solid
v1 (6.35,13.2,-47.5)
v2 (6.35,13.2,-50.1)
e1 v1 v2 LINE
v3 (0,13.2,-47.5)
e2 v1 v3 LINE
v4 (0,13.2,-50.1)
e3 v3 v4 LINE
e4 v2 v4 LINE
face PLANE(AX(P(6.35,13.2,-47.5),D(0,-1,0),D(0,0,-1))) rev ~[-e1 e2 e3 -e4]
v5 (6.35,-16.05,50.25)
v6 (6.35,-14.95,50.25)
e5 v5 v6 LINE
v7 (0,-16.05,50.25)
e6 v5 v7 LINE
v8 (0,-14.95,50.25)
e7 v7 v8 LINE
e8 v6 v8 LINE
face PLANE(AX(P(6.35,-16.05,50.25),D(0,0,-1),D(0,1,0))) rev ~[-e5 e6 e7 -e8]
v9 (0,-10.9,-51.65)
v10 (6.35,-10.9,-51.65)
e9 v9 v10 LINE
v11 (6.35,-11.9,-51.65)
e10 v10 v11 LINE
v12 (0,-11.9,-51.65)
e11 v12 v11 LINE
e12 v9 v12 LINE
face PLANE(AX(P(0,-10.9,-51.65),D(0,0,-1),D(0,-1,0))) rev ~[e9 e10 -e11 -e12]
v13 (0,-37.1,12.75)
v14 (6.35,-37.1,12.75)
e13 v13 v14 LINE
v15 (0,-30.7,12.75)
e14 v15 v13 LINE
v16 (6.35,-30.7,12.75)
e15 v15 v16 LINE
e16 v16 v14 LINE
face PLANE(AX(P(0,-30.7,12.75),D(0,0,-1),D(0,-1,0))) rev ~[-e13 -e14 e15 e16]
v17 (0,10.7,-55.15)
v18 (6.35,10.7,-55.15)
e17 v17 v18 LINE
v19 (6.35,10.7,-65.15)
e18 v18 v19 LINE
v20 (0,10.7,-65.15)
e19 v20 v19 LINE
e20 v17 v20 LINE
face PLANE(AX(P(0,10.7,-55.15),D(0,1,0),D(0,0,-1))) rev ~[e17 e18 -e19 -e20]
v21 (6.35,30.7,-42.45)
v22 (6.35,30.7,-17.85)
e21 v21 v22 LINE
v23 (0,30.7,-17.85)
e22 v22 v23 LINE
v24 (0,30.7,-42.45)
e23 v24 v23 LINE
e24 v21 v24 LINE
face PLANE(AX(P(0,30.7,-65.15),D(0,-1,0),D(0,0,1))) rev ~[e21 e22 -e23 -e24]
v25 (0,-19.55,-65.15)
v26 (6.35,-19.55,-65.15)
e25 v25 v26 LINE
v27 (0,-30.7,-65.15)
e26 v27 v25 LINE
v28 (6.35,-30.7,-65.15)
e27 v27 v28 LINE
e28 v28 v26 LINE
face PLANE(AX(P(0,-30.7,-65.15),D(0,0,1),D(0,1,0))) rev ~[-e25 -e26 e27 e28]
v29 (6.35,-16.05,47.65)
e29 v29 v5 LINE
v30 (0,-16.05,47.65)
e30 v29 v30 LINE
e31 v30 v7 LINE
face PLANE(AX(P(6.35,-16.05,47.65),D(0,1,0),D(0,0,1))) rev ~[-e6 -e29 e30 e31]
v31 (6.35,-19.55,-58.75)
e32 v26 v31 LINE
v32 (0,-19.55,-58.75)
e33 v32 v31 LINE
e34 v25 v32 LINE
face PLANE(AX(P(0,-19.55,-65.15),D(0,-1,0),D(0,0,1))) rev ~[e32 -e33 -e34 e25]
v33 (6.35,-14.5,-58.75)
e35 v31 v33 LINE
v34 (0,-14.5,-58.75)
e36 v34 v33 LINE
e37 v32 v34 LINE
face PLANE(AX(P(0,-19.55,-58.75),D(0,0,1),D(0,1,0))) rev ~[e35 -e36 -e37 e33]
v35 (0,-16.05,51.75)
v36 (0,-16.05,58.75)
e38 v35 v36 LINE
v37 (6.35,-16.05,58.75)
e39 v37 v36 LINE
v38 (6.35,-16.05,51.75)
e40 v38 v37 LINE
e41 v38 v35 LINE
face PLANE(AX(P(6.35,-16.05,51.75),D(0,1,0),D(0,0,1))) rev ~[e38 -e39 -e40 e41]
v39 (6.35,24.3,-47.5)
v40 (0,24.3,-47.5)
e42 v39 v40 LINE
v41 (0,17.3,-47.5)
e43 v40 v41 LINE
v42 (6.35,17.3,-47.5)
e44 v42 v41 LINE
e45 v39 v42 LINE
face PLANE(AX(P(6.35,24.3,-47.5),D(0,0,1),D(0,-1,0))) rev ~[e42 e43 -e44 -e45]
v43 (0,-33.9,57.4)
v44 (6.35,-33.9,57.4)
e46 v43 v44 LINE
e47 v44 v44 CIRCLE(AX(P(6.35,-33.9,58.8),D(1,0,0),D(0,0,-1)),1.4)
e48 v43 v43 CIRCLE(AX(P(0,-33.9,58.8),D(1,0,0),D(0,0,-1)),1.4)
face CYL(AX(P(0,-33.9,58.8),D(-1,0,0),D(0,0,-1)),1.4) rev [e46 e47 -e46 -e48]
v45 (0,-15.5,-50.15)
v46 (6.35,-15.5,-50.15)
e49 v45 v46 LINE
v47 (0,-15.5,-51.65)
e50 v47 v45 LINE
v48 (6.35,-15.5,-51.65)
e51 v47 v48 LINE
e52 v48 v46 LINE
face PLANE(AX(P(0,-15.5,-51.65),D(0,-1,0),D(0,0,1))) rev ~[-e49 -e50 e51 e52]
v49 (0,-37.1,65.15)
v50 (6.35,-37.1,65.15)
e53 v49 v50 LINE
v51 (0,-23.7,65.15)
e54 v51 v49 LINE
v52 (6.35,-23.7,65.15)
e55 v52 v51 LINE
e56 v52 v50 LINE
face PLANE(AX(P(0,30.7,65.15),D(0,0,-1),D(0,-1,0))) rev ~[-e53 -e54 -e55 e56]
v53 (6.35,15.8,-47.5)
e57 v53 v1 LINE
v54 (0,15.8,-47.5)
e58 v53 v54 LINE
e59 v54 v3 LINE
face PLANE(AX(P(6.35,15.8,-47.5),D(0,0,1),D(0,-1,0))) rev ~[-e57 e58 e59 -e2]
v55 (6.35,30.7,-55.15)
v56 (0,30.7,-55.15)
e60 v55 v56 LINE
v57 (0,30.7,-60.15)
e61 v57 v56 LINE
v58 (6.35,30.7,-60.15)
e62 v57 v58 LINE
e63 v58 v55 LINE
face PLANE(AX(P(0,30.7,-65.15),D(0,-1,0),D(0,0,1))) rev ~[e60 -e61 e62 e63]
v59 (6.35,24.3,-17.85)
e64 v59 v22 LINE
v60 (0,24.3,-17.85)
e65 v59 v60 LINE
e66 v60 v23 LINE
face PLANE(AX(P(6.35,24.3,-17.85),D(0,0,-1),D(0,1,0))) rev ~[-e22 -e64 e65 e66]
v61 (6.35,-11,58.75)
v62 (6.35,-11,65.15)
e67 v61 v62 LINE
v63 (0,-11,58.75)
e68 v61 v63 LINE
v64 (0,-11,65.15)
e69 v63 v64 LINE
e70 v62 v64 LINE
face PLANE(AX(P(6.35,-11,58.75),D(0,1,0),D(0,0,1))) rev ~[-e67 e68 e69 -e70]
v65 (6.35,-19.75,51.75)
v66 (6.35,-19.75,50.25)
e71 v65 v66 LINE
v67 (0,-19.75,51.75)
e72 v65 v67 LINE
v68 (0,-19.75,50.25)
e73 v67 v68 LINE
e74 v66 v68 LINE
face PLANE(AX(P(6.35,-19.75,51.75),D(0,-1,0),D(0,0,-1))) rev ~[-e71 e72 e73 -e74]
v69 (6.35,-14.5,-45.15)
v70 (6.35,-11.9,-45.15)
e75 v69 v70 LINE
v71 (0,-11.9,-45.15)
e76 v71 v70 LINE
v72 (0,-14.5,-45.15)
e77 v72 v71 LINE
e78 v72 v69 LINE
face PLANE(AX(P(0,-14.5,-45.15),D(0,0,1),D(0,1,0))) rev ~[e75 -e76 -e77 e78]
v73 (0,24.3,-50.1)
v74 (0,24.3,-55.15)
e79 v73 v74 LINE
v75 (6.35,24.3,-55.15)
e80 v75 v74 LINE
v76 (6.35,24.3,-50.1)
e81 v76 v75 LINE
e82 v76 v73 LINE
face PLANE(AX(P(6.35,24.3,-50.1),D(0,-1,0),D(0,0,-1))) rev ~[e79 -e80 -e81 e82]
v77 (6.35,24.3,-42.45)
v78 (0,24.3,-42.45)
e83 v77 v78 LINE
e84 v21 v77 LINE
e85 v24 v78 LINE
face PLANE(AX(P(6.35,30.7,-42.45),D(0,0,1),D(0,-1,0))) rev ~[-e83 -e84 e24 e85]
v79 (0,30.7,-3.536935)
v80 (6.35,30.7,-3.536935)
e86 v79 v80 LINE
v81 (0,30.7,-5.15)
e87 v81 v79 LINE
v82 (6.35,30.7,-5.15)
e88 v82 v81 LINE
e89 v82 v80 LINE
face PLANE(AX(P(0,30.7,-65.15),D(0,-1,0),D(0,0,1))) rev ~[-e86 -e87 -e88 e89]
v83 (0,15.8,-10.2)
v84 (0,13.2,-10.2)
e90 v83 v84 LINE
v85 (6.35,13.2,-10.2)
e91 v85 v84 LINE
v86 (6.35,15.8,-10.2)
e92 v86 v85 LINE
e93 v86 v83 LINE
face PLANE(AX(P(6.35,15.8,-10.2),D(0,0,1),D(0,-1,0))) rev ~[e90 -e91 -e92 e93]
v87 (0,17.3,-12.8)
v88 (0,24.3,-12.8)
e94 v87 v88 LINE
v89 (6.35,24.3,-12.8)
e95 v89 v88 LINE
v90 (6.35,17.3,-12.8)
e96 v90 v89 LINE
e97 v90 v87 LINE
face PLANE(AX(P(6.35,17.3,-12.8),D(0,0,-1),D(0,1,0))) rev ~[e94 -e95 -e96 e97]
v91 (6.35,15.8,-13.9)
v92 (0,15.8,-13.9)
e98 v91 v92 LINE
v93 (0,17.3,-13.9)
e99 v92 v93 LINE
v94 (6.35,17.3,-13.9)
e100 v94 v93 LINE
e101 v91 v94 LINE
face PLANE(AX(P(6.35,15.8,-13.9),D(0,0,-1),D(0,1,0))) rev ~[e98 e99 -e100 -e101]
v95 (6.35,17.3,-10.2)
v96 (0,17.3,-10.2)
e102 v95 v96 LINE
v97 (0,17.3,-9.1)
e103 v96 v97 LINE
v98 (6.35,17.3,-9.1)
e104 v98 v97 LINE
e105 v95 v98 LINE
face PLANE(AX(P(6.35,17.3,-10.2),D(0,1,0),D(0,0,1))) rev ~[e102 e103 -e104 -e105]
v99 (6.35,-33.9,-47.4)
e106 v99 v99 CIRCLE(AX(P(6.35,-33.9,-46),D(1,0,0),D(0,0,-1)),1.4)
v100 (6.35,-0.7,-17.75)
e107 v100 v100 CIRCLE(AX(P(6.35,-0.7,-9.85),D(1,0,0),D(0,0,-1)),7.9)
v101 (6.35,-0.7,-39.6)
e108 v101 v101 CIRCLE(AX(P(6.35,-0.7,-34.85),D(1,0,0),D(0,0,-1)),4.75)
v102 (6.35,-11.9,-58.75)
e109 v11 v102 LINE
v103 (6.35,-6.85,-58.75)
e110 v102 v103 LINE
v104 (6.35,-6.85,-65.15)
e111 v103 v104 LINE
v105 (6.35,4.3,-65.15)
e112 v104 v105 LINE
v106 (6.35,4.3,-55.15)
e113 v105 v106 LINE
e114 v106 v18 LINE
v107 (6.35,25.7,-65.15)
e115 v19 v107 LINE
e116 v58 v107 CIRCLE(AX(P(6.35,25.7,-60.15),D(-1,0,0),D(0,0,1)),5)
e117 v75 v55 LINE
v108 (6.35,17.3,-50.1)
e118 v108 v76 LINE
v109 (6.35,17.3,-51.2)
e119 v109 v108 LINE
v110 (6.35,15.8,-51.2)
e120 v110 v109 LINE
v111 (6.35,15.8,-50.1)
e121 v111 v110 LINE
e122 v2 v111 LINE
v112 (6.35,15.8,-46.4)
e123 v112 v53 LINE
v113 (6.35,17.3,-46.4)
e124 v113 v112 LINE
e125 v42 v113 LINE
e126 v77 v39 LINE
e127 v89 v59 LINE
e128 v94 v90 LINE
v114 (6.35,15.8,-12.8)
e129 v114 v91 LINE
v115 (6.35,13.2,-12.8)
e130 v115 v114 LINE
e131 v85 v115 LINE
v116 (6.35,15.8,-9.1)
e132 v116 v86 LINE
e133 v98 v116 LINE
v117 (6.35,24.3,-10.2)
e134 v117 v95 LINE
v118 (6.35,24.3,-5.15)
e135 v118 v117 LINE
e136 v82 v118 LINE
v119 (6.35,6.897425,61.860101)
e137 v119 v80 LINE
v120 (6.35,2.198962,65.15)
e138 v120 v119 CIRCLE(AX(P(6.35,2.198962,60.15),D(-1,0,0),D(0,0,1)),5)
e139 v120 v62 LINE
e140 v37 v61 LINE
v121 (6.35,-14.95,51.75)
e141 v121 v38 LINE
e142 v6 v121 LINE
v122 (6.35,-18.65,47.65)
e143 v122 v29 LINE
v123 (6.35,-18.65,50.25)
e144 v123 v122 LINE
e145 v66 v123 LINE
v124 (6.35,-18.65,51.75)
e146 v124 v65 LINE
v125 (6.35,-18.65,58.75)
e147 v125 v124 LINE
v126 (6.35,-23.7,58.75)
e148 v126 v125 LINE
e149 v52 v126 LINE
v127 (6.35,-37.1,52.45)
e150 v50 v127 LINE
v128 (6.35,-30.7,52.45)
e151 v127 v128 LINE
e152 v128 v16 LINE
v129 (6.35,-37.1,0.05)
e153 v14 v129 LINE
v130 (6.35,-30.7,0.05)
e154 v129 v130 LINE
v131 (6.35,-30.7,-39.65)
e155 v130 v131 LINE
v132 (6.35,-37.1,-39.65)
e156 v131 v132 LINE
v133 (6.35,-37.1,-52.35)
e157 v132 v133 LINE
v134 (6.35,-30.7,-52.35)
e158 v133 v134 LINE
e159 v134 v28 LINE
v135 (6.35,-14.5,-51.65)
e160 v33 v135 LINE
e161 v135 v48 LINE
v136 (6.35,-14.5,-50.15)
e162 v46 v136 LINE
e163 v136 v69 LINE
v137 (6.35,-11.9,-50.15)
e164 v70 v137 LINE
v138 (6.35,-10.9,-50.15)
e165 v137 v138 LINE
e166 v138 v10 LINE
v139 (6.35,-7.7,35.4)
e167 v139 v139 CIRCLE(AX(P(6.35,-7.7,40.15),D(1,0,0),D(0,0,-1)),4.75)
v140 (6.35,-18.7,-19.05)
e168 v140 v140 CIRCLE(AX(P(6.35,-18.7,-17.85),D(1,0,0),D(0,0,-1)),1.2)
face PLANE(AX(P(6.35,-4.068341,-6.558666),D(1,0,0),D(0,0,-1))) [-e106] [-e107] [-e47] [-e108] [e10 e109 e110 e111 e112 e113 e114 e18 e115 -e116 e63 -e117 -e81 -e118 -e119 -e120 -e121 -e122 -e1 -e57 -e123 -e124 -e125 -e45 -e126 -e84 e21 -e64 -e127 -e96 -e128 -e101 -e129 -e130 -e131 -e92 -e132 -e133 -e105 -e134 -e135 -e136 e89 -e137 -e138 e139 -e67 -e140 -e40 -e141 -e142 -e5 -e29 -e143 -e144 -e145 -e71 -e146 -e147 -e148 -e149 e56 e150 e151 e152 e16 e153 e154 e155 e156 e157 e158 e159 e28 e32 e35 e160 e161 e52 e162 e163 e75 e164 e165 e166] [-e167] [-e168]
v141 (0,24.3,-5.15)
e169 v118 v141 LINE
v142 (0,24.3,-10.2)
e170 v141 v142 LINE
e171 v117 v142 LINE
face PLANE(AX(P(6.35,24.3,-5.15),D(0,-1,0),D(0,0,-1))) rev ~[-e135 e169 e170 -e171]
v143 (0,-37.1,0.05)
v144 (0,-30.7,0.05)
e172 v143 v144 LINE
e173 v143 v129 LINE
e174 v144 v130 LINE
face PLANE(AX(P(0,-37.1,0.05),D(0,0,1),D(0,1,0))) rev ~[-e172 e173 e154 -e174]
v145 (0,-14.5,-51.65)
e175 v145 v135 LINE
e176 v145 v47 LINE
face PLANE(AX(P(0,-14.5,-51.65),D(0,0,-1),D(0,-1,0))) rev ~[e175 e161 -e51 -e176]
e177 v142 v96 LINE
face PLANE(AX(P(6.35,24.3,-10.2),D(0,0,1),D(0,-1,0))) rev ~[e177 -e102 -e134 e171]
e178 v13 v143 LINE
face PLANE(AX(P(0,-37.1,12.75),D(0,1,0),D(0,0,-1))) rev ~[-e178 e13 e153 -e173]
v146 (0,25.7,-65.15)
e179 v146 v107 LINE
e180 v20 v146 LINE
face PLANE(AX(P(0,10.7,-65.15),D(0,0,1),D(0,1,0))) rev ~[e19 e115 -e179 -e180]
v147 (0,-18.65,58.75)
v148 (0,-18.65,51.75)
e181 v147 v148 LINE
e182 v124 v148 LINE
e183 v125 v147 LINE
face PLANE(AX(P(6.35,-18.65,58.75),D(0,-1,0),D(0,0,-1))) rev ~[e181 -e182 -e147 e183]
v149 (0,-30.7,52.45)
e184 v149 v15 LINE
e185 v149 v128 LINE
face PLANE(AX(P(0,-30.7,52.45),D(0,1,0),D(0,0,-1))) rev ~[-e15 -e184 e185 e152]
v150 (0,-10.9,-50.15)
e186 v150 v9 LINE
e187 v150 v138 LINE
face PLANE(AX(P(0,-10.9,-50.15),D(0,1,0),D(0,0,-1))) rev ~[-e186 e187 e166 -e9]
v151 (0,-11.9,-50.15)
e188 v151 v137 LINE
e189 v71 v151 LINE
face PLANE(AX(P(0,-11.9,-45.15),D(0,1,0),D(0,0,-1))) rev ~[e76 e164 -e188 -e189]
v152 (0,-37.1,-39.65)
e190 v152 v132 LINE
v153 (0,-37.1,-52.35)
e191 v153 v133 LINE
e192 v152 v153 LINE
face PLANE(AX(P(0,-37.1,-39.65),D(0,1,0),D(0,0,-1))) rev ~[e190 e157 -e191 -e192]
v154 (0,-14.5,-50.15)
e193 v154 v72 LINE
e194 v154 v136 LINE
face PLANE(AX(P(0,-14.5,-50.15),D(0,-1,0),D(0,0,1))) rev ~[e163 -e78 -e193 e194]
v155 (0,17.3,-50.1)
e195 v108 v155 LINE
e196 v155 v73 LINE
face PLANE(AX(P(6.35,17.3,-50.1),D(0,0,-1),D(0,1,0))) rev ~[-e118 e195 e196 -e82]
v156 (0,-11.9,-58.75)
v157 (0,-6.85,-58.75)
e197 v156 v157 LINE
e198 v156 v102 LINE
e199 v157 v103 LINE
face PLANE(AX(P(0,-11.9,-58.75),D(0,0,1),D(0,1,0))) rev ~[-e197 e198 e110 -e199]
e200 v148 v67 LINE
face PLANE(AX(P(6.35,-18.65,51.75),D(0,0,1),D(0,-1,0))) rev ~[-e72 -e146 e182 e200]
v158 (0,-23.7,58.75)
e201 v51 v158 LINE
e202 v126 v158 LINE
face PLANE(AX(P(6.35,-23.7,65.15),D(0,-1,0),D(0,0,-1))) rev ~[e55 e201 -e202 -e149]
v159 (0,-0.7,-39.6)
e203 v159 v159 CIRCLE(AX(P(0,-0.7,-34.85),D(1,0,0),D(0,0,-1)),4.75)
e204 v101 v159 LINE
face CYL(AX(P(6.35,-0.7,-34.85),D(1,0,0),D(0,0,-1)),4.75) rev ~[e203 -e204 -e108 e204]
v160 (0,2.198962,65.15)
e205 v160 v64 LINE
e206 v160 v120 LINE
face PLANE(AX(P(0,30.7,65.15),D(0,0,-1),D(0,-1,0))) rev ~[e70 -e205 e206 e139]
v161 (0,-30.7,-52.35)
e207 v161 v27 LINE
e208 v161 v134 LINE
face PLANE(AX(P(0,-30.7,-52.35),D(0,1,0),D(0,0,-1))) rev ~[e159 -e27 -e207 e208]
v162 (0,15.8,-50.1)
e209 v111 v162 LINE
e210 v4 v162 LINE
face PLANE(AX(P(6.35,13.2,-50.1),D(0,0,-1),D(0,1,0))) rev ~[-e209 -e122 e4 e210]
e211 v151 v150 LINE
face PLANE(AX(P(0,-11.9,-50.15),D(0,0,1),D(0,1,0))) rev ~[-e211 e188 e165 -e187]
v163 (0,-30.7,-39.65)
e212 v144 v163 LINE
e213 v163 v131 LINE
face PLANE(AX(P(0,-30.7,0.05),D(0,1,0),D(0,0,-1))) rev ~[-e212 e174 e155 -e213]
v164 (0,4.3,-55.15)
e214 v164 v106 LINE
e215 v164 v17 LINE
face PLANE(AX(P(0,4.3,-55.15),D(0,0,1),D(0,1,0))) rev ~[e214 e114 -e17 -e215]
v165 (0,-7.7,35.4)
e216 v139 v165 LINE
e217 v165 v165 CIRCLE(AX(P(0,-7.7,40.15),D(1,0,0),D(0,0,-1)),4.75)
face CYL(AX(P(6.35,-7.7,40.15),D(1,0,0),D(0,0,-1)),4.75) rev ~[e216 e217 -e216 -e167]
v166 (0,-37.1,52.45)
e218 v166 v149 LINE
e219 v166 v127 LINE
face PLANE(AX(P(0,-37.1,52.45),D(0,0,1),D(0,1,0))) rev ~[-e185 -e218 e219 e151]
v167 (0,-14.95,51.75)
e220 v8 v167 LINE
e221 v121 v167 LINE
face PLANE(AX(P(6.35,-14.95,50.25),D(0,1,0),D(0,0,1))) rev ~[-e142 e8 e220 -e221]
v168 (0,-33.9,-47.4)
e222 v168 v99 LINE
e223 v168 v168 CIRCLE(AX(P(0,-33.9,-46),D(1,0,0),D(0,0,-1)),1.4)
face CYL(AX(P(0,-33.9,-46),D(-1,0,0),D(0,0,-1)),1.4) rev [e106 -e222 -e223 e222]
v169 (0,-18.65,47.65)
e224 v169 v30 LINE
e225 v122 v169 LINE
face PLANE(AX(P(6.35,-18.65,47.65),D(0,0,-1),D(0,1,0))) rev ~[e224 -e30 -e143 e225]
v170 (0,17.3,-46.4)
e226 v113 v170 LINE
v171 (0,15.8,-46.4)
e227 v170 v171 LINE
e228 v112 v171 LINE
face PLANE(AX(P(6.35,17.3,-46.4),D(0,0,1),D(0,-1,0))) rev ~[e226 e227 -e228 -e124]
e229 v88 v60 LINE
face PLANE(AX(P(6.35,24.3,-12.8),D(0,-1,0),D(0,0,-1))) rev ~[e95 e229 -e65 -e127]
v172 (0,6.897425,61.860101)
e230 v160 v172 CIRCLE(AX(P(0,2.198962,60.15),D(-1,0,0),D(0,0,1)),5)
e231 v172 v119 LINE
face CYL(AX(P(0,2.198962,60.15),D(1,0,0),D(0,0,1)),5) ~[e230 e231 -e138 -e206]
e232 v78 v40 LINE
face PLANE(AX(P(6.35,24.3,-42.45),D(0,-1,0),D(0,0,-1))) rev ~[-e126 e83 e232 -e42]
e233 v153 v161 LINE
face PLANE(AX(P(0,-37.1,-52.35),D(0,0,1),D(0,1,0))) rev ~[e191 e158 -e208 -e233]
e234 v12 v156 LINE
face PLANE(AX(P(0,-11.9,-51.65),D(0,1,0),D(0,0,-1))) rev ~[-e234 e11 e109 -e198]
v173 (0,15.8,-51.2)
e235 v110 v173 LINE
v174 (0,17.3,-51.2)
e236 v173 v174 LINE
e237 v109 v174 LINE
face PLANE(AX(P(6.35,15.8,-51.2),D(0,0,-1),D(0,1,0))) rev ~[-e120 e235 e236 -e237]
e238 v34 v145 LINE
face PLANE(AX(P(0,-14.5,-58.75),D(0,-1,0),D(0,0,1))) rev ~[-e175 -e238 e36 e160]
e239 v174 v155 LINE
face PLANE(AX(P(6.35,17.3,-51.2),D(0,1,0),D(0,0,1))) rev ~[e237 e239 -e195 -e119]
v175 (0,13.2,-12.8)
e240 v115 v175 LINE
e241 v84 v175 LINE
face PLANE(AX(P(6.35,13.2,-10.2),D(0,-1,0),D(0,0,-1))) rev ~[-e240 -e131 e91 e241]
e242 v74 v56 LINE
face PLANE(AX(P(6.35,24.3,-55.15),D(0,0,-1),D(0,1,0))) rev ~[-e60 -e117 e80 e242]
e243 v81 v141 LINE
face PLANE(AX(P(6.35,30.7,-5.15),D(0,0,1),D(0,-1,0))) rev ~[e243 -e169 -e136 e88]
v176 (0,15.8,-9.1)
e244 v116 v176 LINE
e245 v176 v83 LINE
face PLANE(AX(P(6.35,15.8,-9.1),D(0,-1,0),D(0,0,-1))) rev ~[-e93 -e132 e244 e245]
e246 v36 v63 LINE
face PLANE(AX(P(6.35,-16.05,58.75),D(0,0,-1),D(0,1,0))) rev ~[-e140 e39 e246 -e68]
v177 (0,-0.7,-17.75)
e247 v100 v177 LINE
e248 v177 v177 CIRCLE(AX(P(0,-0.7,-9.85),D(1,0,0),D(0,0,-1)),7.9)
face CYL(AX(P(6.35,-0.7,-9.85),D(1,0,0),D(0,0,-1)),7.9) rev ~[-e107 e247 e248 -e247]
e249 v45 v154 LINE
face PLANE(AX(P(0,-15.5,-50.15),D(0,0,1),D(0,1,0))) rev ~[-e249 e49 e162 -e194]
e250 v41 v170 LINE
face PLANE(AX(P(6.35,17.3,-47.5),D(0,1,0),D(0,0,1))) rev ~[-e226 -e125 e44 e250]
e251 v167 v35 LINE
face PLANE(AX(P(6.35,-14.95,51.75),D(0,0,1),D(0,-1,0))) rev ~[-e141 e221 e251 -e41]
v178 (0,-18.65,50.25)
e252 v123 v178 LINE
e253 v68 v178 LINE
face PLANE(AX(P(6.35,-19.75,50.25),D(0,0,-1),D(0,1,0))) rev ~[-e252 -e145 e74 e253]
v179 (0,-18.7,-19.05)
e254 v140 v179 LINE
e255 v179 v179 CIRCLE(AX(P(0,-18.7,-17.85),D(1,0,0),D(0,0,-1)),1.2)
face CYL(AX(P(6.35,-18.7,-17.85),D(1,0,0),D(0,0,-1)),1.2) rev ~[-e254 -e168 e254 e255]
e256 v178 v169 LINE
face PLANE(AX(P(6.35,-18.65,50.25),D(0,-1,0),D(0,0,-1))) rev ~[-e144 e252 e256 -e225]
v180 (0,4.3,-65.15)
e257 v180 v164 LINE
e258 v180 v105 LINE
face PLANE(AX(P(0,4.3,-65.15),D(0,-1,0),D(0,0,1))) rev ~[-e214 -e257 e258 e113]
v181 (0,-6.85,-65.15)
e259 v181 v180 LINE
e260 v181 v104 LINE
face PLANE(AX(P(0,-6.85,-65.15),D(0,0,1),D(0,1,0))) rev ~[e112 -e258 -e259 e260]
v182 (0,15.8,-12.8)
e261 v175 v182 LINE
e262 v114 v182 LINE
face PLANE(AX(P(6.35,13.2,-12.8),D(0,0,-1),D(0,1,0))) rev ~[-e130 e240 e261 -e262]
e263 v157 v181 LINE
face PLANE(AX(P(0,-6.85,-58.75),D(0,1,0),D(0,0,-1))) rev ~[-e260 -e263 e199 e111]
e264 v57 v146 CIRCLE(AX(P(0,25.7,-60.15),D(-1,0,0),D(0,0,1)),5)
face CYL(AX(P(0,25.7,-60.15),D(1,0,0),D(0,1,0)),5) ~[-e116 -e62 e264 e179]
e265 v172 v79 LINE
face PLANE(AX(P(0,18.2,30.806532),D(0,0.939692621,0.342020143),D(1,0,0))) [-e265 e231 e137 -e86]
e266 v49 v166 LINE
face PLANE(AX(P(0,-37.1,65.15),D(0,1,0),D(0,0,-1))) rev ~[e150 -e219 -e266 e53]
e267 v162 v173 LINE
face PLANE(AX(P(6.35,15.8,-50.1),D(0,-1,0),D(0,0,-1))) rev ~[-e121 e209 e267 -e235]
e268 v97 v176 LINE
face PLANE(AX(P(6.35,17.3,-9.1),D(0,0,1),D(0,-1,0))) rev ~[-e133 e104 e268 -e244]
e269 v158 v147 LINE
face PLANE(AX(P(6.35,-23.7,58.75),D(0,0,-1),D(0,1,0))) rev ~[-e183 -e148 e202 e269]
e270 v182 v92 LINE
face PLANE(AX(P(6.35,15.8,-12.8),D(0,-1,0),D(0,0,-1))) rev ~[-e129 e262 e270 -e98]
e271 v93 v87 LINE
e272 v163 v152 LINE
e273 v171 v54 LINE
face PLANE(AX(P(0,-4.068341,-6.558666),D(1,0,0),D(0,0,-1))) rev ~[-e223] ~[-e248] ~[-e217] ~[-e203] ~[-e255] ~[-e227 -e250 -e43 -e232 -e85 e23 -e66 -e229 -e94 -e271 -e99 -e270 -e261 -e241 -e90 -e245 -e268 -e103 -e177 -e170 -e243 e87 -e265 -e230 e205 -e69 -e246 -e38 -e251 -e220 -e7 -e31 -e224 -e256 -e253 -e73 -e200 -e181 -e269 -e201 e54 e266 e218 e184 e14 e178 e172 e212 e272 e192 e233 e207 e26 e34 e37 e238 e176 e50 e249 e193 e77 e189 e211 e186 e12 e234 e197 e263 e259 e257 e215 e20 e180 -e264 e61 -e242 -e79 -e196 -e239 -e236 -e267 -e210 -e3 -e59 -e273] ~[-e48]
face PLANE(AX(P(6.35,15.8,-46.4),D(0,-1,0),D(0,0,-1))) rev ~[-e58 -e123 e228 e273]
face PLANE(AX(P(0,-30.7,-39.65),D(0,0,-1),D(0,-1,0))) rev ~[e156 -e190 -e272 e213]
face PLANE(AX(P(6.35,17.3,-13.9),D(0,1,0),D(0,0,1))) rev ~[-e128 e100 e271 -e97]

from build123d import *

# Parameters (mm, degrees)
SKETCH2_R              = 1.4
BOSS_EXTRUDE1_DEPTH    = 6.35
SKETCH3_R              = 4.75
SKETCH3_R_2            = 7.9
AXII_DEPTH             = 76.241311791
CHAMFER1_SIZE          = 25
CHAMFER1_SIZE2         = 68.686935486
FILLET1_R              = 5
PLATEATTACHMENTS_DEPTH = 76.241311791
SKETCH6_R              = 1.2
WIREGUIDE_DEPTH        = 76.241311791


with BuildPart() as part:
    # Sketch2 → Boss-Extrude1 (new body)
    with BuildSketch(Plane(origin=(0, 0, 0), x_dir=(0, 0, -1), z_dir=(1, 0, 0))):
        Polygon((52.35, -30.7), (65.15, -30.7), (65.15, -19.55), (58.75, -19.55), (58.75, -14.5), (51.65, -14.5), (51.65, -15.5), (50.15, -15.5), (50.15, -14.5), (45.15, -14.5), (45.15, -11.9), (50.15, -11.9), (50.15, -10.9), (51.65, -10.9), (51.65, -11.9), (58.75, -11.9), (58.75, -6.85), (65.15, -6.85), (65.15, 4.3), (55.15, 4.3), (55.15, 10.7), (65.15, 10.7), (65.15, 30.7), (-65.15, 30.7), (-65.15, -30.7), (-65.15, -37.1), (-52.45, -37.1), (-52.45, -30.7), (-12.75, -30.7), (-12.75, -37.1), (-0.05, -37.1), (-0.05, -30.7), (39.65, -30.7), (39.65, -37.1), (52.35, -37.1), align=None)
        with Locations((-58.8, -33.9)):
            Circle(SKETCH2_R, mode=Mode.SUBTRACT)
        with Locations((46, -33.9)):
            Circle(SKETCH2_R, mode=Mode.SUBTRACT)
    extrude(amount=BOSS_EXTRUDE1_DEPTH)

    # Sketch3 → Axii (cut, through all)
    with BuildSketch(Plane(origin=(6.35, 0, 0), x_dir=(0, 0, -1), z_dir=(1, 0, 0))):
        with Locations((-40.15, -7.7)):
            Circle(SKETCH3_R)
        with Locations((34.85, -0.7)):
            Circle(SKETCH3_R)
        with Locations((9.85, -0.7)):
            Circle(SKETCH3_R_2)
    extrude(amount=-AXII_DEPTH, mode=Mode.SUBTRACT)

    # Chamfer1
    chamfer1_edges = [part.edges().sort_by_distance(p)[0] for p in [
        (3.175, 30.7, 65.15),
    ]]
    chamfer1_side = [part.faces().sort_by_distance(p)[0] for p in [
        (3.175, -3.2, 65.15),
    ]]
    chamfer(chamfer1_edges, length=CHAMFER1_SIZE, length2=CHAMFER1_SIZE2, reference=chamfer1_side[0])

    # Fillet1
    fillet1_edges = [part.edges().sort_by_distance(p)[0] for p in [
        (3.175, 5.7, 65.15),
        (3.175, 30.7, -65.15),
    ]]
    fillet(fillet1_edges, radius=FILLET1_R)

    # Sketch5 → PlateAttachments (cut, through all)
    with BuildSketch(Plane(origin=(6.35, 0, 0), x_dir=(0, 0, -1), z_dir=(1, 0, 0))):
        Polygon((55.15, 24.3), (55.15, 30.7), (42.45, 30.7), (42.45, 24.3), (47.5, 24.3), (47.5, 17.3), (46.4, 17.3), (46.4, 15.8), (47.5, 15.8), (47.5, 13.2), (50.1, 13.2), (50.1, 15.8), (51.2, 15.8), (51.2, 17.3), (50.1, 17.3), (50.1, 24.3), align=None)
        Polygon((17.85, 30.7), (5.15, 30.7), (5.15, 24.3), (10.2, 24.3), (10.2, 17.3), (9.1, 17.3), (9.1, 15.8), (10.2, 15.8), (10.2, 13.2), (12.8, 13.2), (12.8, 15.8), (13.9, 15.8), (13.9, 17.3), (12.8, 17.3), (12.8, 24.3), (17.85, 24.3), align=None)
        Polygon((-58.75, -11), (-65.15, -11), (-65.15, -23.7), (-58.75, -23.7), (-58.75, -18.65), (-51.75, -18.65), (-51.75, -19.75), (-50.25, -19.75), (-50.25, -18.65), (-47.65, -18.65), (-47.65, -16.05), (-50.25, -16.05), (-50.25, -14.95), (-51.75, -14.95), (-51.75, -16.05), (-58.75, -16.05), align=None)
    extrude(amount=-PLATEATTACHMENTS_DEPTH, mode=Mode.SUBTRACT)

    # Sketch6 → WireGuide (cut, through all)
    with BuildSketch(Plane(origin=(6.35, 0, 0), x_dir=(0, 0, -1), z_dir=(1, 0, 0))):
        with Locations((17.85, -18.7)):
            Circle(SKETCH6_R)
    extrude(amount=-WIREGUIDE_DEPTH, mode=Mode.SUBTRACT)


solid = part.part
